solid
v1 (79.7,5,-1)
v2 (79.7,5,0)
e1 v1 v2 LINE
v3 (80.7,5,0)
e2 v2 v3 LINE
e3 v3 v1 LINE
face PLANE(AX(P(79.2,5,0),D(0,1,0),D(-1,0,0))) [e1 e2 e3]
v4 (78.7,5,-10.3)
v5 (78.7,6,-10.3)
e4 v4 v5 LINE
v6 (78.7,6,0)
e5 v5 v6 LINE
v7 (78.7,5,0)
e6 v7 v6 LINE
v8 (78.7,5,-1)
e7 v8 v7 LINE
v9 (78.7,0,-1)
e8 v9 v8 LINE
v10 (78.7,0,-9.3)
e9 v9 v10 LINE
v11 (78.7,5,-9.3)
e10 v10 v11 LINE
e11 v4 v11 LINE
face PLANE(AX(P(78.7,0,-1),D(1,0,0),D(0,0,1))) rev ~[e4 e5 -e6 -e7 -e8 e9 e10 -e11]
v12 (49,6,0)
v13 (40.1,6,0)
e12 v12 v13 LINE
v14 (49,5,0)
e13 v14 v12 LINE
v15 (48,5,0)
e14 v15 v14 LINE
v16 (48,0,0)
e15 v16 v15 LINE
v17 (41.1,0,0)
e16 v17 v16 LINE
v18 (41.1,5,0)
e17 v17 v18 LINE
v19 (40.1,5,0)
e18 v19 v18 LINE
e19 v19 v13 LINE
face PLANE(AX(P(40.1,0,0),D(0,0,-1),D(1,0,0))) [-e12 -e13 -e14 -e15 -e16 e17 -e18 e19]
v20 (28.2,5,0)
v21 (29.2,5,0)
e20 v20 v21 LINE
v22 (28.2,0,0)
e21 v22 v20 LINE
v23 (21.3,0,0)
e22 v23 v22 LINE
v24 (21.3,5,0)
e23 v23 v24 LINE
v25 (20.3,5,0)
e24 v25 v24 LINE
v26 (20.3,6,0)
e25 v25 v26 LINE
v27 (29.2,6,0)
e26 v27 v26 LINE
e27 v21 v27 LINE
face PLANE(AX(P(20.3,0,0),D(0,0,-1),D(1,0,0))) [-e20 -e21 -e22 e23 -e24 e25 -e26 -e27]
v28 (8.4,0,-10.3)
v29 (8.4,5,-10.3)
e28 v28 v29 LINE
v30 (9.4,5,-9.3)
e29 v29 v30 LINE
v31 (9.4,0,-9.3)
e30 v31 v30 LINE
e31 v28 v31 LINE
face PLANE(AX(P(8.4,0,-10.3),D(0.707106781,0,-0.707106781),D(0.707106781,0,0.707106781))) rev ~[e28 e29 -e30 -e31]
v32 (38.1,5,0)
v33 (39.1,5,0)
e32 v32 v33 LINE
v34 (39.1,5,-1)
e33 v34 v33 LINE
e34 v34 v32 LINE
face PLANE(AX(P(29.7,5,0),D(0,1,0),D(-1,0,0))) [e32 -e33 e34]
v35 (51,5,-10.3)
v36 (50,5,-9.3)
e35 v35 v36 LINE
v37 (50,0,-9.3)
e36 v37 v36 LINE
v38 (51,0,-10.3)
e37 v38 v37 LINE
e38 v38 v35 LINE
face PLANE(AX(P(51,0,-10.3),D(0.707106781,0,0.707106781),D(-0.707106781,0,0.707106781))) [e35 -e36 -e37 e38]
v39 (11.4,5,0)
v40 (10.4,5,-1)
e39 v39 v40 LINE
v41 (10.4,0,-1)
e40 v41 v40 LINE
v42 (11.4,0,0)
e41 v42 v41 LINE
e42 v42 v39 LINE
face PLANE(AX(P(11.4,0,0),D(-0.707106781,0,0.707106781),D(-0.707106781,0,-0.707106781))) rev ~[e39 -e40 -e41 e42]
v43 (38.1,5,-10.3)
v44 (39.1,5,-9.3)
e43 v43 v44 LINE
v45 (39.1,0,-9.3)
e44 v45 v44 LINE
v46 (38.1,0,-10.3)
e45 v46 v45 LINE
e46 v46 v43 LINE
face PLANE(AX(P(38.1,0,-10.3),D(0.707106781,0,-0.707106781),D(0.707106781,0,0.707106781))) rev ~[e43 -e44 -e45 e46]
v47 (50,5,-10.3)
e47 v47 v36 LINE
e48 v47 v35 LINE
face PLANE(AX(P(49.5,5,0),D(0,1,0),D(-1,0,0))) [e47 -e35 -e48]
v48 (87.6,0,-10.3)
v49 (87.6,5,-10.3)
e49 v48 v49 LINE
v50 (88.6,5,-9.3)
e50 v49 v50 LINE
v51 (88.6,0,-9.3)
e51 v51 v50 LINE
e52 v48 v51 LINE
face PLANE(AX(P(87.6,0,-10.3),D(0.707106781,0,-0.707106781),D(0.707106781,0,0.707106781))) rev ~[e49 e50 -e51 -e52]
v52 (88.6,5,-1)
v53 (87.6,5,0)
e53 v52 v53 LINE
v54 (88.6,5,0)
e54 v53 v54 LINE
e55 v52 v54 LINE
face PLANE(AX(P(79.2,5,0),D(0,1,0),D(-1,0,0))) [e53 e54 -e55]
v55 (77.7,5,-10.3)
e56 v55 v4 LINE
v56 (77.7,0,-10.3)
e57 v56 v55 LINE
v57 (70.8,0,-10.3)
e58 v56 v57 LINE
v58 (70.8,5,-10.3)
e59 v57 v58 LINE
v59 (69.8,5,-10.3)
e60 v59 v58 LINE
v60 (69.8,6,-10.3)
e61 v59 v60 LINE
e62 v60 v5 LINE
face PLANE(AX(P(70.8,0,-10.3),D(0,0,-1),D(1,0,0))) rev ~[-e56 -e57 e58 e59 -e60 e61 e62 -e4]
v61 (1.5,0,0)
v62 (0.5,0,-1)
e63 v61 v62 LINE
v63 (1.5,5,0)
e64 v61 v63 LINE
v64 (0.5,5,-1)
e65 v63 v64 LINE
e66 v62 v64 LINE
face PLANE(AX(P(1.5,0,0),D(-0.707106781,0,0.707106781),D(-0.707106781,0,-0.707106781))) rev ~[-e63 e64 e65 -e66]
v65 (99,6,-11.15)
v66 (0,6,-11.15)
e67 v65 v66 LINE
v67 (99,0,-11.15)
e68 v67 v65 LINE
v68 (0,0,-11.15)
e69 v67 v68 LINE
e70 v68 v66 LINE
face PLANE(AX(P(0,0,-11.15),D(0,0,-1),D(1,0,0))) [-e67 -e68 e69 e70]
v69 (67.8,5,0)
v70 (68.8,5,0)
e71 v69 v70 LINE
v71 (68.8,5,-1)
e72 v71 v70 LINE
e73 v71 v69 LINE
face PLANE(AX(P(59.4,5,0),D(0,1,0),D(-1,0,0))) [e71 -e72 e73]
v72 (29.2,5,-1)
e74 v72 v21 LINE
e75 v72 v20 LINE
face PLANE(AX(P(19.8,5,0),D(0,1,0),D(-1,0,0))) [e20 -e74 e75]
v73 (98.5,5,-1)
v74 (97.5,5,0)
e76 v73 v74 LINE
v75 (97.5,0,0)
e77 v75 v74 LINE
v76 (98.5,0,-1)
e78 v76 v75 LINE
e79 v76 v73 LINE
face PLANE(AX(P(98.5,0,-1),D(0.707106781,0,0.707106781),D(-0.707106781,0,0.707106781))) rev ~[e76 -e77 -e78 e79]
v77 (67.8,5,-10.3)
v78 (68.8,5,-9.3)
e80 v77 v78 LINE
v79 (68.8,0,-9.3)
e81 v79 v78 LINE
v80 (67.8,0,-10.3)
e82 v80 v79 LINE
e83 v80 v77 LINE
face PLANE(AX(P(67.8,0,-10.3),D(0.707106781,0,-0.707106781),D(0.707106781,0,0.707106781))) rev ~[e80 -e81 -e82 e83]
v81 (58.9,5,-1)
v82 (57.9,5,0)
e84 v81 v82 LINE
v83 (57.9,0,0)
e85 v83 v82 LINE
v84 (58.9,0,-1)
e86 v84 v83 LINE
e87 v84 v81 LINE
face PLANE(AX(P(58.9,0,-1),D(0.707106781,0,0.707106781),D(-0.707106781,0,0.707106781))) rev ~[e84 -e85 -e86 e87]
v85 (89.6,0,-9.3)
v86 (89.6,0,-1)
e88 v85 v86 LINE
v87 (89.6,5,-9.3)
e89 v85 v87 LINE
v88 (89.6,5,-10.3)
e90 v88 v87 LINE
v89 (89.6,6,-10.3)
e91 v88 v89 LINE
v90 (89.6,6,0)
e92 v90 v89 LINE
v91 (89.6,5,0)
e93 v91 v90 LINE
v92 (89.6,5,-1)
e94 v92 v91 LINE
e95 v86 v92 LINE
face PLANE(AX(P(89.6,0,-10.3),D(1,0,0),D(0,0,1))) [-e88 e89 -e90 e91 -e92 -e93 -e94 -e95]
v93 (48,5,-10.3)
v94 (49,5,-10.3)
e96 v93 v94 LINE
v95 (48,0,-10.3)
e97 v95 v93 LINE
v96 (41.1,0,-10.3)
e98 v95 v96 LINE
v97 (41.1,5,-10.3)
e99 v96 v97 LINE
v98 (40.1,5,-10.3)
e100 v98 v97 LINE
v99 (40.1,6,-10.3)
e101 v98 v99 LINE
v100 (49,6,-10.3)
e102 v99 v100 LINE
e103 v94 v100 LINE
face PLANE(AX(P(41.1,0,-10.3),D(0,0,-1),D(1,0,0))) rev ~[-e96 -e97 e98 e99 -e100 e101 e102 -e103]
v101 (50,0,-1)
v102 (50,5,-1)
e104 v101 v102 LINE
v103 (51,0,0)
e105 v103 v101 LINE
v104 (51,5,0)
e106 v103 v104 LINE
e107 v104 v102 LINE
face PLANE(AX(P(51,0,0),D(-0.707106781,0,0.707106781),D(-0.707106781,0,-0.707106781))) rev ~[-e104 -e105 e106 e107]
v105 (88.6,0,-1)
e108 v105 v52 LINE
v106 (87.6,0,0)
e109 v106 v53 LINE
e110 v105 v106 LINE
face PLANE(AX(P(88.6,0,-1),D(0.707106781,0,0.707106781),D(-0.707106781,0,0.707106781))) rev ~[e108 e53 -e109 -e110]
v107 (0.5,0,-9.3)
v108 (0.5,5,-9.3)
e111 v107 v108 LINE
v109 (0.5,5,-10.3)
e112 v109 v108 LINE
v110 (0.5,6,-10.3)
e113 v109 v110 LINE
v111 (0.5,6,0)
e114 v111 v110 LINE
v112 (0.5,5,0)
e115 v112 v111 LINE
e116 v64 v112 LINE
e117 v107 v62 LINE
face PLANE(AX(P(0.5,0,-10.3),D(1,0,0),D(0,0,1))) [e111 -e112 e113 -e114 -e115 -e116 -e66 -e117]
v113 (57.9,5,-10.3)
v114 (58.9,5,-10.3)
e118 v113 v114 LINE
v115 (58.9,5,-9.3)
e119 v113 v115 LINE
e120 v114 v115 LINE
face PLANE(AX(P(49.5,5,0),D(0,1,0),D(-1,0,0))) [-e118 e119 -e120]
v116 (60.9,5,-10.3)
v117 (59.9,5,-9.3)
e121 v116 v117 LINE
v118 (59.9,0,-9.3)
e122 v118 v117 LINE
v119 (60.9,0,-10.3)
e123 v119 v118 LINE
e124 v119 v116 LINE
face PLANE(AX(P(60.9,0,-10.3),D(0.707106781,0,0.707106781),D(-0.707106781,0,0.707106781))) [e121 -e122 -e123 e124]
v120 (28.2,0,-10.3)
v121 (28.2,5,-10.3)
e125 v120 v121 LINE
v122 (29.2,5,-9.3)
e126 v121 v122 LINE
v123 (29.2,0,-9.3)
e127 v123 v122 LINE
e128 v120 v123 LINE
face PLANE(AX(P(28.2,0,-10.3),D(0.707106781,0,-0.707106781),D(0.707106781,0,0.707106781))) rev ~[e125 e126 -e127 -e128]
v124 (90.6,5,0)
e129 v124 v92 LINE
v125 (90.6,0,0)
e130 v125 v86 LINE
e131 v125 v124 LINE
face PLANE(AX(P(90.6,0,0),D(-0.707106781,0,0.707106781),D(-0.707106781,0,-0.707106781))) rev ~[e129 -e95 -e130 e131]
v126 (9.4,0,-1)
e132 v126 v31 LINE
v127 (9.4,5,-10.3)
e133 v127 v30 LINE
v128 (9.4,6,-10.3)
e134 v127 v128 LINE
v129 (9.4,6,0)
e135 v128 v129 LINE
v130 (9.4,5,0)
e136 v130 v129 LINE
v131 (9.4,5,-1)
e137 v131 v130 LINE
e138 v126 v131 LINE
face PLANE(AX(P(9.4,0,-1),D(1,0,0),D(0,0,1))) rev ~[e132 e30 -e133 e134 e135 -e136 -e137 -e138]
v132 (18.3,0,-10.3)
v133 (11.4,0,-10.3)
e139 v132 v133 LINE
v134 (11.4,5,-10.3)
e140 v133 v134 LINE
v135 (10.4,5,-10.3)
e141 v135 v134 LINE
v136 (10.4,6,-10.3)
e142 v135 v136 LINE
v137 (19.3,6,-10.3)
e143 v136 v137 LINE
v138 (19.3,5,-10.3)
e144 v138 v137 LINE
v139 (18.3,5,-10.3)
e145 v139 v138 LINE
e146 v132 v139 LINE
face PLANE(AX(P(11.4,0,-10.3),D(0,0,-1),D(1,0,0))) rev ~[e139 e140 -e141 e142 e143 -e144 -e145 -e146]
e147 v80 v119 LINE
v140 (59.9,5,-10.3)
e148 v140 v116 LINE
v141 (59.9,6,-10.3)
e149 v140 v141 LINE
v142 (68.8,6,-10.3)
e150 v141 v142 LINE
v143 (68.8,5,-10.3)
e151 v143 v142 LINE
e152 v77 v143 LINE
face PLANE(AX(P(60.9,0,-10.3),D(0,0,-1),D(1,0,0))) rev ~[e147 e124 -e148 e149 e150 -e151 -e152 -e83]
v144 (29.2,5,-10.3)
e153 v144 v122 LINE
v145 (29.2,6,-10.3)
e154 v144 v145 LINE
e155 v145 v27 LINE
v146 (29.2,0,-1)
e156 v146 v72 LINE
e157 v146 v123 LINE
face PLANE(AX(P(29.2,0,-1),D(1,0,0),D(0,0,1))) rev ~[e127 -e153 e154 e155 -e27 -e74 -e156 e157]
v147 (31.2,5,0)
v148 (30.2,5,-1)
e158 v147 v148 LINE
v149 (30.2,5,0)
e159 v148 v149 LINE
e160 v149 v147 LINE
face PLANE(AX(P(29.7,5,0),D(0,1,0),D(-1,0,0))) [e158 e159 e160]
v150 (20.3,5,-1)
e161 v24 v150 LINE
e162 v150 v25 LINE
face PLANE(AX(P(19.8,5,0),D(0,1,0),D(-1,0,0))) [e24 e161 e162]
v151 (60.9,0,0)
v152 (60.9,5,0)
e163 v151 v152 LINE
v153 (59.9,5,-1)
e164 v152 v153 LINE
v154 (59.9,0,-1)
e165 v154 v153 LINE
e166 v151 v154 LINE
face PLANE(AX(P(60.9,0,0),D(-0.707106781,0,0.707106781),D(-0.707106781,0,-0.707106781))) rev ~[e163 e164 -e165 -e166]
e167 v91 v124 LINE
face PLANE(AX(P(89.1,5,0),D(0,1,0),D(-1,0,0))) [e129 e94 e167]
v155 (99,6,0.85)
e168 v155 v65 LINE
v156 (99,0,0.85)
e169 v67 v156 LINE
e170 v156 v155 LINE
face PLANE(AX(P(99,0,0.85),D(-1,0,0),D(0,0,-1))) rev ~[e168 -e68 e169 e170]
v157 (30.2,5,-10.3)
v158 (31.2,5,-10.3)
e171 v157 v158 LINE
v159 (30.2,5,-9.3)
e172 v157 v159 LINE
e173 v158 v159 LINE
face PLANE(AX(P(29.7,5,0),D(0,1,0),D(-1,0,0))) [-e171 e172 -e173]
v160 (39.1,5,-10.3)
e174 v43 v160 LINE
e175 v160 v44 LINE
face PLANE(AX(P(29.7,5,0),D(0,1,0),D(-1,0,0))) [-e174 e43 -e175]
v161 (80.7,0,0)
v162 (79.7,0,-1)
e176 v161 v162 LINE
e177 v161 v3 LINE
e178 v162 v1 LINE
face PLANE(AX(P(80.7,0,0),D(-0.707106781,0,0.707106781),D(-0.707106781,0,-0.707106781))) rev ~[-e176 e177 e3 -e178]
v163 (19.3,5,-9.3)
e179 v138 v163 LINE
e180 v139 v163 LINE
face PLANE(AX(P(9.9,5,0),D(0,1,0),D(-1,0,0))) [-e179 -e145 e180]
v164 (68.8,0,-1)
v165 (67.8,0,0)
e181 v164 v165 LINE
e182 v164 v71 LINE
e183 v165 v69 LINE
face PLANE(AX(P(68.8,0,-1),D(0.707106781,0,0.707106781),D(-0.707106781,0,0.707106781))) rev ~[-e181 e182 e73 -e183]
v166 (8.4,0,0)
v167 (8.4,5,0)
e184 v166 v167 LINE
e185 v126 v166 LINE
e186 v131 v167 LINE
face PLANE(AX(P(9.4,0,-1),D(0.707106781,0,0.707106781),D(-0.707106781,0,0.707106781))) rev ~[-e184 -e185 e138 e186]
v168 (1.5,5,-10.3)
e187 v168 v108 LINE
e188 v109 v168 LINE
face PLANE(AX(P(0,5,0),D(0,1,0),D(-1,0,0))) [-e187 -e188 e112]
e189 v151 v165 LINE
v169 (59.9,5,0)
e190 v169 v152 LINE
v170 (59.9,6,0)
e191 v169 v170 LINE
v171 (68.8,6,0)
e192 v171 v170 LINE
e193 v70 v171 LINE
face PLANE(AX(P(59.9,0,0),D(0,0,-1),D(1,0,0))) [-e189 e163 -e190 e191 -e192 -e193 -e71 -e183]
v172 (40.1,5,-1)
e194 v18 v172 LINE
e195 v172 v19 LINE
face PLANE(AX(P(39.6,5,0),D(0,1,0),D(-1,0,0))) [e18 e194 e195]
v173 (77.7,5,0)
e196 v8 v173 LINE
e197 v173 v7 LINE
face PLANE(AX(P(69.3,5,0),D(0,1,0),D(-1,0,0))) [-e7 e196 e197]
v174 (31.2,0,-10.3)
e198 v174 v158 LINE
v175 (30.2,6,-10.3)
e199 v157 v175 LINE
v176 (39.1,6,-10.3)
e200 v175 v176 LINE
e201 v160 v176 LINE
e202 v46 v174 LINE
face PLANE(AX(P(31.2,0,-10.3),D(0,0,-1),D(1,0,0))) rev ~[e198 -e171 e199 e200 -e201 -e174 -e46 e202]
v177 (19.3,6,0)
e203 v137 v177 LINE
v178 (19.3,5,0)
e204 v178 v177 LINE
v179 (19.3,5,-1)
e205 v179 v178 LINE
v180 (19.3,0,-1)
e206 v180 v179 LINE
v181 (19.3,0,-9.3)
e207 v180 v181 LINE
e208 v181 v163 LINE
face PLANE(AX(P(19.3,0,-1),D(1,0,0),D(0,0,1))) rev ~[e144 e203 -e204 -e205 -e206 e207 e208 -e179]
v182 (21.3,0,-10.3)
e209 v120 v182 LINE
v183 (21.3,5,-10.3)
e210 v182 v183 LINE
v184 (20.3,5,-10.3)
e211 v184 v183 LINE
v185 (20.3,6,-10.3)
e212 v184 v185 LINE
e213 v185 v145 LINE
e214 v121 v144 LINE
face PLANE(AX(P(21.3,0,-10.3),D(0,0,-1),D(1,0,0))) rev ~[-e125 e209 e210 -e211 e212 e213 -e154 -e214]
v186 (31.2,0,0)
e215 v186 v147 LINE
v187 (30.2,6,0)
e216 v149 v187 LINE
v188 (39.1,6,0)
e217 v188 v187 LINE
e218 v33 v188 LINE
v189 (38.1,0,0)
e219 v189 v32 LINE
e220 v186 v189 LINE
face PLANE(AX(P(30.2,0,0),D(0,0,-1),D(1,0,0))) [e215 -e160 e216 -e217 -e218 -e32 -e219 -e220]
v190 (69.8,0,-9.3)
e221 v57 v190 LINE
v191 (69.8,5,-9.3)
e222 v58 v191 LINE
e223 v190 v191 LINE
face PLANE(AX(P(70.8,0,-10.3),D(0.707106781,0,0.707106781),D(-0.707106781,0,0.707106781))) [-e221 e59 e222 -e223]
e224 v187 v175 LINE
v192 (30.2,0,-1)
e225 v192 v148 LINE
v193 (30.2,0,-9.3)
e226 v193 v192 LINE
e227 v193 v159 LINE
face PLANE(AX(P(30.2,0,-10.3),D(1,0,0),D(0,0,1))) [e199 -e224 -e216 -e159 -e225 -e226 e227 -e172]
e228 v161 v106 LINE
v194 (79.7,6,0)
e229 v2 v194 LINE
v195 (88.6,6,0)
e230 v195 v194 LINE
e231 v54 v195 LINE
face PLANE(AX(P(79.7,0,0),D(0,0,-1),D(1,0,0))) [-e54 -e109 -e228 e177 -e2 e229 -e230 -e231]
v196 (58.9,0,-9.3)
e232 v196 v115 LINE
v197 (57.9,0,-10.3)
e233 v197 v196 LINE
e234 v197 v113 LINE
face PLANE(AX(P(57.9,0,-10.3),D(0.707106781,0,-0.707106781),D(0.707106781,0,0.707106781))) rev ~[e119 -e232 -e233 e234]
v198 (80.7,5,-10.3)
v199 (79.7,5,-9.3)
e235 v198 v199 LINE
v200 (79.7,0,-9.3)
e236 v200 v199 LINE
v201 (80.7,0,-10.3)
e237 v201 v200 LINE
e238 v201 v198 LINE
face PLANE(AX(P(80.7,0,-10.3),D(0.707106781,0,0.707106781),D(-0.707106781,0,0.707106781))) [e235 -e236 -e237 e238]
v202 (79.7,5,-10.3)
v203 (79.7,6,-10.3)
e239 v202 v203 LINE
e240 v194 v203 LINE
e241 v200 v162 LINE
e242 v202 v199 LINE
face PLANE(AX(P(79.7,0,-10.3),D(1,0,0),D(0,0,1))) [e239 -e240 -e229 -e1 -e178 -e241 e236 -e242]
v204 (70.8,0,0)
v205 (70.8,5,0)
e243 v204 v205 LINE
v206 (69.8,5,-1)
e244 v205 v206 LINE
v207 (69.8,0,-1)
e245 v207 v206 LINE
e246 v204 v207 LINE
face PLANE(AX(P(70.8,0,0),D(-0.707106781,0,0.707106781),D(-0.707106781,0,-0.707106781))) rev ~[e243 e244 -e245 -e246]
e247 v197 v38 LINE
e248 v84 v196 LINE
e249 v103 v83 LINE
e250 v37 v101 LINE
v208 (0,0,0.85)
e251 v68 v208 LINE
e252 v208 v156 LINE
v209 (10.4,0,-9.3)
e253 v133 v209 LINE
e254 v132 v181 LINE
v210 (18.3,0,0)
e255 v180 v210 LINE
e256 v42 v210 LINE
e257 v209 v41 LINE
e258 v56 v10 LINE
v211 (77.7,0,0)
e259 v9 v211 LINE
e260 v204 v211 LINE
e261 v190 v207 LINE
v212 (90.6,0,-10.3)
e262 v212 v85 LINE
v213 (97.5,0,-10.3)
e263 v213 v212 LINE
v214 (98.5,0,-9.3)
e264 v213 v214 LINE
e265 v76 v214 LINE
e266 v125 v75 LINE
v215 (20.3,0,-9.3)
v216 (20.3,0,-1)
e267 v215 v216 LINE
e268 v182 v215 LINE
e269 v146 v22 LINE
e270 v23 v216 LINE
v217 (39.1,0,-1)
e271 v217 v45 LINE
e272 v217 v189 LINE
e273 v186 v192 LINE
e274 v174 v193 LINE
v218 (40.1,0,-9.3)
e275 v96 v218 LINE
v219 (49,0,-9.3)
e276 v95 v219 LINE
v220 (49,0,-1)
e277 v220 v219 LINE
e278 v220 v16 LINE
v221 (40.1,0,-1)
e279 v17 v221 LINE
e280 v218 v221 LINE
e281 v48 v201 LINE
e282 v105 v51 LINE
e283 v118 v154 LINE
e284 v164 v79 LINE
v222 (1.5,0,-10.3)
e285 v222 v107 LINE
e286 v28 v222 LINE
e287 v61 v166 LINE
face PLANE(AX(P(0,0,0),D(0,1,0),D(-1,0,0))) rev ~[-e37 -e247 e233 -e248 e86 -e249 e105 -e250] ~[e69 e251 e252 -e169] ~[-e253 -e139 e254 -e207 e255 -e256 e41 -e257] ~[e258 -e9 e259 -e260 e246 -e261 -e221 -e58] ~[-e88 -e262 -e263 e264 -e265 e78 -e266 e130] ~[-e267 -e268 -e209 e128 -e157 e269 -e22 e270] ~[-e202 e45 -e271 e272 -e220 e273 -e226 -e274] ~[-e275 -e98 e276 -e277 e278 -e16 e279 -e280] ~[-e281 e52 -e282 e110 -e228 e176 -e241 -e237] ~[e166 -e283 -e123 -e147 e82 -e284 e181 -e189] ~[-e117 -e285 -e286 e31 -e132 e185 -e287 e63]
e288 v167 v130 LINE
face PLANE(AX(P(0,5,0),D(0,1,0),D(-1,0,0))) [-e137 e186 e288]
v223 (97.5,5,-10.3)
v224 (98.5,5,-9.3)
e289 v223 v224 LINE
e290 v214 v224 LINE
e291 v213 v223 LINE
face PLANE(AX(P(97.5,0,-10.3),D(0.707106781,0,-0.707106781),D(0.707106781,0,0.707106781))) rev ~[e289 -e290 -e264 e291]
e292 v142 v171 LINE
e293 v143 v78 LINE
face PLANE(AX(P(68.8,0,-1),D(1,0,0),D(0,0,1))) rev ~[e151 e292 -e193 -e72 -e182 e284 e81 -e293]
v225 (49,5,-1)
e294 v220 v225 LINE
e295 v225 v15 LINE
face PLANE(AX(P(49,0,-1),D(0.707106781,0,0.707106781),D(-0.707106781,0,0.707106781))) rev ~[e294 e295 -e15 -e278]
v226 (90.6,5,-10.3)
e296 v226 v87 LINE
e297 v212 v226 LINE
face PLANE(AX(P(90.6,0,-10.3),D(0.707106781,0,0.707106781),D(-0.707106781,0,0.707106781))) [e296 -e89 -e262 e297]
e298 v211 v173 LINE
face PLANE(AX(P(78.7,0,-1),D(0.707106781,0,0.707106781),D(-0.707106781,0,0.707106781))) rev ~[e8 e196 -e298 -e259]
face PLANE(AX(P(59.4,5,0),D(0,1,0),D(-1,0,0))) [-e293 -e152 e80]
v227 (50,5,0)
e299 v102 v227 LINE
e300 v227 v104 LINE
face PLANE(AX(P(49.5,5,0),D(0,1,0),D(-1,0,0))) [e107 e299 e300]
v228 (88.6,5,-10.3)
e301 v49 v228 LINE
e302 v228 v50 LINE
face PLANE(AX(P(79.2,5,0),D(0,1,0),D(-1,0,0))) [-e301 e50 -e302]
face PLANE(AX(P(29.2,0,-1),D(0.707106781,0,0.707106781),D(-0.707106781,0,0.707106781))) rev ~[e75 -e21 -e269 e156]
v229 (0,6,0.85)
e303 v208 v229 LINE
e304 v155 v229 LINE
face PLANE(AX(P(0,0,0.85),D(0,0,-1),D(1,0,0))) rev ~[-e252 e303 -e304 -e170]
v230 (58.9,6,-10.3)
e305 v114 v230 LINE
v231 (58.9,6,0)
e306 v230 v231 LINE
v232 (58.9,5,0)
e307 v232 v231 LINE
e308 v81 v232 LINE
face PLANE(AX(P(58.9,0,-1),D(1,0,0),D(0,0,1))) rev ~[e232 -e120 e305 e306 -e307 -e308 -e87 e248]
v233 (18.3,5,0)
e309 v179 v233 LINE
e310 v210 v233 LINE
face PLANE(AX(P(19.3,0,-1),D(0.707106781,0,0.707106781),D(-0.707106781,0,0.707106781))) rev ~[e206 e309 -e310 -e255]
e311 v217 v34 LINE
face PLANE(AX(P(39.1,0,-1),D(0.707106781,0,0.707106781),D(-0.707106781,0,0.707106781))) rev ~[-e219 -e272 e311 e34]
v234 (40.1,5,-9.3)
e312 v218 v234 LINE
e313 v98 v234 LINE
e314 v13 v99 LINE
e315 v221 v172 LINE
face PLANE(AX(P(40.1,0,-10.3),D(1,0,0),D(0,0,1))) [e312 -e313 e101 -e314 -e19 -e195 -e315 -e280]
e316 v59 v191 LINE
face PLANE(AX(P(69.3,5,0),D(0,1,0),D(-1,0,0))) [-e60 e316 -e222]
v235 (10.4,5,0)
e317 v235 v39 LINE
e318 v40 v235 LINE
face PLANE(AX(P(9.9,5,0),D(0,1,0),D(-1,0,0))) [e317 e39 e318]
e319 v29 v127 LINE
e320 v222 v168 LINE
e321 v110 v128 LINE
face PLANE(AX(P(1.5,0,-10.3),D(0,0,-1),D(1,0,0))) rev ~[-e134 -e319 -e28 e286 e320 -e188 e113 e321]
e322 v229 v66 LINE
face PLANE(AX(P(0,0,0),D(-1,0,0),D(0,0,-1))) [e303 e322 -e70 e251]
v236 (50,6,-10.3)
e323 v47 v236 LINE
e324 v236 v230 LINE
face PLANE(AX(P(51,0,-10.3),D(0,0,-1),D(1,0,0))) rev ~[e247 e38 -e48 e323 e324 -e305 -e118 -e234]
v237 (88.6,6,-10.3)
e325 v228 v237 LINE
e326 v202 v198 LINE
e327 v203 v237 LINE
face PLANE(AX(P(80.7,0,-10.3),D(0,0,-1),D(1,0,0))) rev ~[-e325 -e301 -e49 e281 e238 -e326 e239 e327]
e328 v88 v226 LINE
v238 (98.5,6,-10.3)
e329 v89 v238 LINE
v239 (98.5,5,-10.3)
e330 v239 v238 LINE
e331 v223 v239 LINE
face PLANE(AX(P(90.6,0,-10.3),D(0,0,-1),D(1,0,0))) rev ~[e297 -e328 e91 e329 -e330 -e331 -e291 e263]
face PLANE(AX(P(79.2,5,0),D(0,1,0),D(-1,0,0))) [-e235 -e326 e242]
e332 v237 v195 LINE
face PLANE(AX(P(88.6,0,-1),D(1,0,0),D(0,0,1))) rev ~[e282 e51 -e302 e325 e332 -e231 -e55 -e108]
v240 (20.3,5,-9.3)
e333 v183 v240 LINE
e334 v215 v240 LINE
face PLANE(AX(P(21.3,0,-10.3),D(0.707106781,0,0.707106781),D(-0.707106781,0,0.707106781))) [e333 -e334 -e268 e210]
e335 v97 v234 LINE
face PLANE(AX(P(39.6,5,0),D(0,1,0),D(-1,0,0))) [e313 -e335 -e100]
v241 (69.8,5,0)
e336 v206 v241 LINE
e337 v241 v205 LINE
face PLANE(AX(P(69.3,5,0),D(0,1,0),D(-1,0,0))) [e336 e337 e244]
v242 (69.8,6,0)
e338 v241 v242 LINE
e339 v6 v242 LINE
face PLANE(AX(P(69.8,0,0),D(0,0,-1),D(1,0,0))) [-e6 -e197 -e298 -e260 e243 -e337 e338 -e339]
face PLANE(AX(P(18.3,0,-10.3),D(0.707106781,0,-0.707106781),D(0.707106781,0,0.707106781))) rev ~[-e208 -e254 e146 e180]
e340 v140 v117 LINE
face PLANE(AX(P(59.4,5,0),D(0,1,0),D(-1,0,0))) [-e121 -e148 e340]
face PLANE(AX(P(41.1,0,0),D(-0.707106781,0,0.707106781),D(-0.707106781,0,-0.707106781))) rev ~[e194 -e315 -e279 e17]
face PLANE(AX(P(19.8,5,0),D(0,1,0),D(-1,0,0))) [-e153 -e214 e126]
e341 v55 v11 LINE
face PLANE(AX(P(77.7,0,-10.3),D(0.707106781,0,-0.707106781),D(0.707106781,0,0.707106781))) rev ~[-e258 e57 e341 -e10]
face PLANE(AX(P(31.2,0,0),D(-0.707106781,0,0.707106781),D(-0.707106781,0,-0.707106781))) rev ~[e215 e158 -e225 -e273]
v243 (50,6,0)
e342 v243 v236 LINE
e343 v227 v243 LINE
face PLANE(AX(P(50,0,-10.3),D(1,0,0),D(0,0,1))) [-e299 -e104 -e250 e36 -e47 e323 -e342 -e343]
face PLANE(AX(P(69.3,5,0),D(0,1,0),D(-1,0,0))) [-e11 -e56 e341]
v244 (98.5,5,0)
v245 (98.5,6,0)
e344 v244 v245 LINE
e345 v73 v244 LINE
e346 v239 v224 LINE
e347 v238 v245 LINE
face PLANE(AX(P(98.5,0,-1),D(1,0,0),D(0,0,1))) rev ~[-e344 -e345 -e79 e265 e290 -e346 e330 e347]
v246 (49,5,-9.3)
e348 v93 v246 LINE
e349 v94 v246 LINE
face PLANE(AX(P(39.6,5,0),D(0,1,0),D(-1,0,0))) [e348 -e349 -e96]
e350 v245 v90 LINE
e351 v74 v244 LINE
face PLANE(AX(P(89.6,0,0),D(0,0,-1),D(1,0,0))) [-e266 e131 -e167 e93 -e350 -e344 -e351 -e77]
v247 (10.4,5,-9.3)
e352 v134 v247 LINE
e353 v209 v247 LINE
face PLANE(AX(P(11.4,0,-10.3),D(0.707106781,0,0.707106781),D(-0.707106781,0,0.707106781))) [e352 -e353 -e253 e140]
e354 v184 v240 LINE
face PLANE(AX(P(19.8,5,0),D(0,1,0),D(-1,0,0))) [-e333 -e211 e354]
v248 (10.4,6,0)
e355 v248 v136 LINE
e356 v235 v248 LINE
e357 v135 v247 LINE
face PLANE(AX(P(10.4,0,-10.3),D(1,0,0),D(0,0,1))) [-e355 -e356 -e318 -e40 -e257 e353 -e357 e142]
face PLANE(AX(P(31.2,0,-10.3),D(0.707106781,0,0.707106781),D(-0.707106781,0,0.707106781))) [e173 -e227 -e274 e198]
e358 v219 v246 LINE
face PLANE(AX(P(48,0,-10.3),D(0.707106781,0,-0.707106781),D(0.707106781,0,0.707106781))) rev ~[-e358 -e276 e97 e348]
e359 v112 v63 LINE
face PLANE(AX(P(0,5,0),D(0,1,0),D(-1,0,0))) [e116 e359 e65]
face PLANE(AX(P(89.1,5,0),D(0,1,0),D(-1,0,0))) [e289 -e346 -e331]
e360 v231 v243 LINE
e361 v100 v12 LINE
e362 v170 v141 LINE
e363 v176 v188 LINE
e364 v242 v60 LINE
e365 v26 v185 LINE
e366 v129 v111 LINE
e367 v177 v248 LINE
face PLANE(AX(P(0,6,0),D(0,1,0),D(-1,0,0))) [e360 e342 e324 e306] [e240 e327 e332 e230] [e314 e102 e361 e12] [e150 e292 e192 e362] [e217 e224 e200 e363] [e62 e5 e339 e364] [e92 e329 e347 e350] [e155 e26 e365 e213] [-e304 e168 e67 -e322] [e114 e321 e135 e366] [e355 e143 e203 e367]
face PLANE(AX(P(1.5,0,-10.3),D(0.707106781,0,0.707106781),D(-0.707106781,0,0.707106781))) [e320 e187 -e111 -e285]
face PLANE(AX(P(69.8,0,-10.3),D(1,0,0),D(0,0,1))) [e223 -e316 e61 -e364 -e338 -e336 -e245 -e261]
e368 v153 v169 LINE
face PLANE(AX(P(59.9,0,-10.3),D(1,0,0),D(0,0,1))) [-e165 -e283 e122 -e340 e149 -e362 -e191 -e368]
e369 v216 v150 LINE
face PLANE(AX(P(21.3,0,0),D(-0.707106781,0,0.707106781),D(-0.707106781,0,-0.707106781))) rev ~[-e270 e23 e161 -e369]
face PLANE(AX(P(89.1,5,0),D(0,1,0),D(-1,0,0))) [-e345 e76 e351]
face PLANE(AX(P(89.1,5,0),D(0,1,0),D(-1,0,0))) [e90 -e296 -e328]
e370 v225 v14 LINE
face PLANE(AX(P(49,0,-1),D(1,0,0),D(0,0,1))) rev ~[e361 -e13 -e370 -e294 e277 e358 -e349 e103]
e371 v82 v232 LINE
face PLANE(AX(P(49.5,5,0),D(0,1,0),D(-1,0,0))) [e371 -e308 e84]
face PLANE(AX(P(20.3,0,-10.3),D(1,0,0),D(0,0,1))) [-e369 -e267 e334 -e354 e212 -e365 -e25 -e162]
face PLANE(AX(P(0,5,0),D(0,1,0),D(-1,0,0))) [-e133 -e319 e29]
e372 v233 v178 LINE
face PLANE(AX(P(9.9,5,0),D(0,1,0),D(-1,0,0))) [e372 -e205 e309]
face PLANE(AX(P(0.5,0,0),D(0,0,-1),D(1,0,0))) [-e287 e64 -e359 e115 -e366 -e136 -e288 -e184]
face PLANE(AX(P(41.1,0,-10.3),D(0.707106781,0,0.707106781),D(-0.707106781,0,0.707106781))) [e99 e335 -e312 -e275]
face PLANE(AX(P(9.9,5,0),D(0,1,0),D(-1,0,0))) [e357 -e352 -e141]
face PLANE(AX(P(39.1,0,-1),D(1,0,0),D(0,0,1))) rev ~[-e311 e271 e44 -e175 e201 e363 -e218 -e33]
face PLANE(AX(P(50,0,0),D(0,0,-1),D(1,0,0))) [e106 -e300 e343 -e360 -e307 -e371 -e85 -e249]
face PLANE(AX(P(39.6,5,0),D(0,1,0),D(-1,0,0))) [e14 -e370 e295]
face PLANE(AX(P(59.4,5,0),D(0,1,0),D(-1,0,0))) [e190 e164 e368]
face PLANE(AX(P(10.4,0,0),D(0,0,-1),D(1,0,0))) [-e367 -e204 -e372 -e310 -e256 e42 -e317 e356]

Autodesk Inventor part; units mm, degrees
ref_plane "YZ Plane" through (0, 0, 0) normal (1, 0, 0) x (0, 1, 0)
ref_plane "XZ Plane" through (0, 0, 0) normal (0, 1, 0) x (-1, 0, 0)
ref_plane "XY Plane" through (0, 0, 0) normal (0, 0, 1) x (1, 0, 0)
sketch "Sketch1" plane through (0, 0, 0) normal (0, 1, 0) x (-1, 0, 0)
  line L0 (0, 0) -> (-9.9, 0)
  line L1 (0, 0) -> (0, -10.3)
  line L2 (0, -10.3) -> (-9.9, -10.3)
  line L3 (-9.9, -10.3) -> (-9.9, 0)
  line L4 (-9.9, -10.3) -> (-9.4, -10.3)
  line L5 (-9.4, -10.3) -> (-9.4, 0)
  line L6 (0, -10.3) -> (-0.5, -10.3)
  line L7 (-0.5, -10.3) -> (-0.5, 0)
  line L8 (-0.5, 0.85) -> (-9.9, 0.85)
  line L9 (-9.9, 0.85) -> (-9.9, 0)
  line L10 (0, 0) -> (0, 0.85)
  line L11 (0, 0.85) -> (-0.5, 0.85)
  line L12 (0, -10.3) -> (0, -11.15)
  line L13 (0, -11.15) -> (-9.9, -11.15)
  line L14 (-9.9, -11.15) -> (-9.9, -10.3)
  line L15 (-9.9, -11.15) -> (-19.8, -11.15)
  line L16 (-19.8, -11.15) -> (-19.8, -10.3)
  line L17 (-19.8, -10.3) -> (-19.8, 0)
  line L18 (-19.3, -10.3) -> (-19.3, 0)
  line L19 (-9.9, -10.3) -> (-19.8, -10.3)
  line L20 (-10.4, -10.3) -> (-10.4, 0)
  line L21 (-9.9, 0) -> (-9.9, -10.3)
  line L22 (-9.9, 0) -> (-9.9, 0.85)
  line L23 (-9.9, 0.85) -> (-10.4, 0.85)
  line L24 (-10.4, 0.85) -> (-19.8, 0.85)
  line L25 (-9.9, 0) -> (-19.8, 0)
  line L26 (-19.8, 0.85) -> (-19.8, 0)
  line L27 (-19.8, -11.15) -> (-29.7, -11.15)
  line L28 (-29.7, -11.15) -> (-29.7, -10.3)
  line L29 (-29.7, -10.3) -> (-29.7, 0)
  line L30 (-29.2, -10.3) -> (-29.2, 0)
  line L31 (-19.8, -10.3) -> (-29.7, -10.3)
  line L32 (-20.3, -10.3) -> (-20.3, 0)
  line L33 (-19.8, 0) -> (-19.8, -10.3)
  line L34 (-19.8, 0) -> (-19.8, 0.85)
  line L35 (-19.8, 0.85) -> (-20.3, 0.85)
  line L36 (-20.3, 0.85) -> (-29.7, 0.85)
  line L37 (-19.8, 0) -> (-29.7, 0)
  line L38 (-29.7, 0.85) -> (-29.7, 0)
  line L39 (-29.7, -11.15) -> (-39.6, -11.15)
  line L40 (-39.6, -11.15) -> (-39.6, -10.3)
  line L41 (-39.6, -10.3) -> (-39.6, 0)
  line L42 (-39.1, -10.3) -> (-39.1, 0)
  line L43 (-29.7, -10.3) -> (-39.6, -10.3)
  line L44 (-30.2, -10.3) -> (-30.2, 0)
  line L45 (-29.7, 0) -> (-29.7, -10.3)
  line L46 (-29.7, 0) -> (-29.7, 0.85)
  line L47 (-29.7, 0.85) -> (-30.2, 0.85)
  line L48 (-30.2, 0.85) -> (-39.6, 0.85)
  line L49 (-29.7, 0) -> (-39.6, 0)
  line L50 (-39.6, 0.85) -> (-39.6, 0)
  line L51 (-39.6, -11.15) -> (-49.5, -11.15)
  line L52 (-49.5, -11.15) -> (-49.5, -10.3)
  line L53 (-49.5, -10.3) -> (-49.5, 0)
  line L54 (-49, -10.3) -> (-49, 0)
  line L55 (-39.6, -10.3) -> (-49.5, -10.3)
  line L56 (-40.1, -10.3) -> (-40.1, 0)
  line L57 (-39.6, 0) -> (-39.6, -10.3)
  line L58 (-39.6, 0) -> (-39.6, 0.85)
  line L59 (-39.6, 0.85) -> (-40.1, 0.85)
  line L60 (-40.1, 0.85) -> (-49.5, 0.85)
  line L61 (-39.6, 0) -> (-49.5, 0)
  line L62 (-49.5, 0.85) -> (-49.5, 0)
  line L63 (-49.5, -11.15) -> (-59.4, -11.15)
  line L64 (-59.4, -11.15) -> (-59.4, -10.3)
  line L65 (-59.4, -10.3) -> (-59.4, 0)
  line L66 (-58.9, -10.3) -> (-58.9, 0)
  line L67 (-49.5, -10.3) -> (-59.4, -10.3)
  line L68 (-50, -10.3) -> (-50, 0)
  line L69 (-49.5, 0) -> (-49.5, -10.3)
  line L70 (-49.5, 0) -> (-49.5, 0.85)
  line L71 (-49.5, 0.85) -> (-50, 0.85)
  line L72 (-50, 0.85) -> (-59.4, 0.85)
  line L73 (-49.5, 0) -> (-59.4, 0)
  line L74 (-59.4, 0.85) -> (-59.4, 0)
  line L75 (-59.4, -11.15) -> (-69.3, -11.15)
  line L76 (-69.3, -11.15) -> (-69.3, -10.3)
  line L77 (-69.3, -10.3) -> (-69.3, 0)
  line L78 (-68.8, -10.3) -> (-68.8, 0)
  line L79 (-59.4, -10.3) -> (-69.3, -10.3)
  line L80 (-59.9, -10.3) -> (-59.9, 0)
  line L81 (-59.4, 0) -> (-59.4, -10.3)
  line L82 (-59.4, 0) -> (-59.4, 0.85)
  line L83 (-59.4, 0.85) -> (-59.9, 0.85)
  line L84 (-59.9, 0.85) -> (-69.3, 0.85)
  line L85 (-59.4, 0) -> (-69.3, 0)
  line L86 (-69.3, 0.85) -> (-69.3, 0)
  line L87 (-69.3, -11.15) -> (-79.2, -11.15)
  line L88 (-79.2, -11.15) -> (-79.2, -10.3)
  line L89 (-79.2, -10.3) -> (-79.2, 0)
  line L90 (-78.7, -10.3) -> (-78.7, 0)
  line L91 (-69.3, -10.3) -> (-79.2, -10.3)
  line L92 (-69.8, -10.3) -> (-69.8, 0)
  line L93 (-69.3, 0) -> (-69.3, -10.3)
  line L94 (-69.3, 0) -> (-69.3, 0.85)
  line L95 (-69.3, 0.85) -> (-69.8, 0.85)
  line L96 (-69.8, 0.85) -> (-79.2, 0.85)
  line L97 (-69.3, 0) -> (-79.2, 0)
  line L98 (-79.2, 0.85) -> (-79.2, 0)
  line L99 (-79.2, -11.15) -> (-89.1, -11.15)
  line L100 (-89.1, -11.15) -> (-89.1, -10.3)
  line L101 (-89.1, -10.3) -> (-89.1, 0)
  line L102 (-88.6, -10.3) -> (-88.6, 0)
  line L103 (-79.2, -10.3) -> (-89.1, -10.3)
  line L104 (-79.7, -10.3) -> (-79.7, 0)
  line L105 (-79.2, 0) -> (-79.2, -10.3)
  line L106 (-79.2, 0) -> (-79.2, 0.85)
  line L107 (-79.2, 0.85) -> (-79.7, 0.85)
  line L108 (-79.7, 0.85) -> (-89.1, 0.85)
  line L109 (-79.2, 0) -> (-89.1, 0)
  line L110 (-89.1, 0.85) -> (-89.1, 0)
  line L111 (-89.1, -11.15) -> (-99, -11.15)
  line L112 (-99, -11.15) -> (-99, -10.3)
  line L113 (-99, -10.3) -> (-99, 0)
  line L114 (-98.5, -10.3) -> (-98.5, 0)
  line L115 (-89.1, -10.3) -> (-99, -10.3)
  line L116 (-89.6, -10.3) -> (-89.6, 0)
  line L117 (-89.1, 0) -> (-89.1, -10.3)
  line L118 (-89.1, 0) -> (-89.1, 0.85)
  line L119 (-89.1, 0.85) -> (-89.6, 0.85)
  line L120 (-89.6, 0.85) -> (-99, 0.85)
  line L121 (-89.1, 0) -> (-99, 0)
  line L122 (-99, 0.85) -> (-99, 0)
  line L123 (0, -11.15) -> (0, 0.85)
  line L124 (0, -11.15) -> (0, -12.65)
  line L125 (0, -12.65) -> (1.5, -12.65)
  line L126 (-99, 0.85) -> (-100.5, 0.85)
  line L127 (-100.5, 0.85) -> (-100.5, 2.35)
  line L128 (1.5, -12.65) -> (-100.5, -12.65)
  line L129 (-100.5, -12.65) -> (-100.5, 2.35)
  line L130 (-100.5, 2.35) -> (1.5, 2.35)
  line L131 (1.5, 2.35) -> (1.5, -12.65)
  line L132 (0, -11.15) -> (1.5, -11.15)
  line L133 (0, 0.85) -> (1.5, 0.85)
  line L134 (0, -11.15) -> (-2, -11.15)
  line L135 (-2, -11.15) -> (-2, 0.85)
  line L136 (-0.5, -10.3) -> (-1.5, -10.3)
  line L137 (-1.5, -10.3) -> (-0.5, -9.3)
  line L138 (-9.4, -10.3) -> (-8.4, -10.3)
  line L139 (-8.4, -10.3) -> (-9.4, -9.3)
  line L140 (-9.4, 0) -> (-9.4, -1)
  line L141 (-9.4, -1) -> (-8.4, 0)
  line L142 (-2, 0) -> (-3, 0)
  line L143 (-0.5, 0) -> (-1.5, 0)
  line L144 (-1.5, 0) -> (-0.5, -1)
  dimension "d0" = 9.9
  dimension "d1" = 10.3
  dimension "d2" = 0.5
  dimension "d3" = 0.5
  dimension "d6" = 0.85
  dimension "d7" = 0.85
  dimension "d10" = 9.9
  dimension "d15" = 1.5
  dimension "d16" = 1.5
  dimension "d19" = 1.5
  dimension "d20" = 2
  dimension "d26" = 1
  dimension "d27" = 45
  dimension "d28" = 1
  dimension "d29" = 1
  dimension "d30" = 1
  dimension "d31" = 1
extrude "Extrusion1" add sketch "Sketch1" along normal blind 6 contours L1 L2 L7 L0 | L0 L135 L8 L11 L10 | L12 L13 L135 L2 | L0 L9 L8 L135 | L13 L14 L2 L135 | L3 L0 L5 L2
extrude "Extrusion2" add sketch "Sketch1" along normal blind 5 contours L7 L144 L0 | L2 L137 L7 | L141 L5 L0 | L2 L5 L139
pattern_linear "Rectangular Pattern1" count 10 spacing 9.9 along (1, 0, 0) of "Extrusion1", "Extrusion2"
equation "\"d25\" = d10"
properties part number "10x led strip grid divider opaque"
